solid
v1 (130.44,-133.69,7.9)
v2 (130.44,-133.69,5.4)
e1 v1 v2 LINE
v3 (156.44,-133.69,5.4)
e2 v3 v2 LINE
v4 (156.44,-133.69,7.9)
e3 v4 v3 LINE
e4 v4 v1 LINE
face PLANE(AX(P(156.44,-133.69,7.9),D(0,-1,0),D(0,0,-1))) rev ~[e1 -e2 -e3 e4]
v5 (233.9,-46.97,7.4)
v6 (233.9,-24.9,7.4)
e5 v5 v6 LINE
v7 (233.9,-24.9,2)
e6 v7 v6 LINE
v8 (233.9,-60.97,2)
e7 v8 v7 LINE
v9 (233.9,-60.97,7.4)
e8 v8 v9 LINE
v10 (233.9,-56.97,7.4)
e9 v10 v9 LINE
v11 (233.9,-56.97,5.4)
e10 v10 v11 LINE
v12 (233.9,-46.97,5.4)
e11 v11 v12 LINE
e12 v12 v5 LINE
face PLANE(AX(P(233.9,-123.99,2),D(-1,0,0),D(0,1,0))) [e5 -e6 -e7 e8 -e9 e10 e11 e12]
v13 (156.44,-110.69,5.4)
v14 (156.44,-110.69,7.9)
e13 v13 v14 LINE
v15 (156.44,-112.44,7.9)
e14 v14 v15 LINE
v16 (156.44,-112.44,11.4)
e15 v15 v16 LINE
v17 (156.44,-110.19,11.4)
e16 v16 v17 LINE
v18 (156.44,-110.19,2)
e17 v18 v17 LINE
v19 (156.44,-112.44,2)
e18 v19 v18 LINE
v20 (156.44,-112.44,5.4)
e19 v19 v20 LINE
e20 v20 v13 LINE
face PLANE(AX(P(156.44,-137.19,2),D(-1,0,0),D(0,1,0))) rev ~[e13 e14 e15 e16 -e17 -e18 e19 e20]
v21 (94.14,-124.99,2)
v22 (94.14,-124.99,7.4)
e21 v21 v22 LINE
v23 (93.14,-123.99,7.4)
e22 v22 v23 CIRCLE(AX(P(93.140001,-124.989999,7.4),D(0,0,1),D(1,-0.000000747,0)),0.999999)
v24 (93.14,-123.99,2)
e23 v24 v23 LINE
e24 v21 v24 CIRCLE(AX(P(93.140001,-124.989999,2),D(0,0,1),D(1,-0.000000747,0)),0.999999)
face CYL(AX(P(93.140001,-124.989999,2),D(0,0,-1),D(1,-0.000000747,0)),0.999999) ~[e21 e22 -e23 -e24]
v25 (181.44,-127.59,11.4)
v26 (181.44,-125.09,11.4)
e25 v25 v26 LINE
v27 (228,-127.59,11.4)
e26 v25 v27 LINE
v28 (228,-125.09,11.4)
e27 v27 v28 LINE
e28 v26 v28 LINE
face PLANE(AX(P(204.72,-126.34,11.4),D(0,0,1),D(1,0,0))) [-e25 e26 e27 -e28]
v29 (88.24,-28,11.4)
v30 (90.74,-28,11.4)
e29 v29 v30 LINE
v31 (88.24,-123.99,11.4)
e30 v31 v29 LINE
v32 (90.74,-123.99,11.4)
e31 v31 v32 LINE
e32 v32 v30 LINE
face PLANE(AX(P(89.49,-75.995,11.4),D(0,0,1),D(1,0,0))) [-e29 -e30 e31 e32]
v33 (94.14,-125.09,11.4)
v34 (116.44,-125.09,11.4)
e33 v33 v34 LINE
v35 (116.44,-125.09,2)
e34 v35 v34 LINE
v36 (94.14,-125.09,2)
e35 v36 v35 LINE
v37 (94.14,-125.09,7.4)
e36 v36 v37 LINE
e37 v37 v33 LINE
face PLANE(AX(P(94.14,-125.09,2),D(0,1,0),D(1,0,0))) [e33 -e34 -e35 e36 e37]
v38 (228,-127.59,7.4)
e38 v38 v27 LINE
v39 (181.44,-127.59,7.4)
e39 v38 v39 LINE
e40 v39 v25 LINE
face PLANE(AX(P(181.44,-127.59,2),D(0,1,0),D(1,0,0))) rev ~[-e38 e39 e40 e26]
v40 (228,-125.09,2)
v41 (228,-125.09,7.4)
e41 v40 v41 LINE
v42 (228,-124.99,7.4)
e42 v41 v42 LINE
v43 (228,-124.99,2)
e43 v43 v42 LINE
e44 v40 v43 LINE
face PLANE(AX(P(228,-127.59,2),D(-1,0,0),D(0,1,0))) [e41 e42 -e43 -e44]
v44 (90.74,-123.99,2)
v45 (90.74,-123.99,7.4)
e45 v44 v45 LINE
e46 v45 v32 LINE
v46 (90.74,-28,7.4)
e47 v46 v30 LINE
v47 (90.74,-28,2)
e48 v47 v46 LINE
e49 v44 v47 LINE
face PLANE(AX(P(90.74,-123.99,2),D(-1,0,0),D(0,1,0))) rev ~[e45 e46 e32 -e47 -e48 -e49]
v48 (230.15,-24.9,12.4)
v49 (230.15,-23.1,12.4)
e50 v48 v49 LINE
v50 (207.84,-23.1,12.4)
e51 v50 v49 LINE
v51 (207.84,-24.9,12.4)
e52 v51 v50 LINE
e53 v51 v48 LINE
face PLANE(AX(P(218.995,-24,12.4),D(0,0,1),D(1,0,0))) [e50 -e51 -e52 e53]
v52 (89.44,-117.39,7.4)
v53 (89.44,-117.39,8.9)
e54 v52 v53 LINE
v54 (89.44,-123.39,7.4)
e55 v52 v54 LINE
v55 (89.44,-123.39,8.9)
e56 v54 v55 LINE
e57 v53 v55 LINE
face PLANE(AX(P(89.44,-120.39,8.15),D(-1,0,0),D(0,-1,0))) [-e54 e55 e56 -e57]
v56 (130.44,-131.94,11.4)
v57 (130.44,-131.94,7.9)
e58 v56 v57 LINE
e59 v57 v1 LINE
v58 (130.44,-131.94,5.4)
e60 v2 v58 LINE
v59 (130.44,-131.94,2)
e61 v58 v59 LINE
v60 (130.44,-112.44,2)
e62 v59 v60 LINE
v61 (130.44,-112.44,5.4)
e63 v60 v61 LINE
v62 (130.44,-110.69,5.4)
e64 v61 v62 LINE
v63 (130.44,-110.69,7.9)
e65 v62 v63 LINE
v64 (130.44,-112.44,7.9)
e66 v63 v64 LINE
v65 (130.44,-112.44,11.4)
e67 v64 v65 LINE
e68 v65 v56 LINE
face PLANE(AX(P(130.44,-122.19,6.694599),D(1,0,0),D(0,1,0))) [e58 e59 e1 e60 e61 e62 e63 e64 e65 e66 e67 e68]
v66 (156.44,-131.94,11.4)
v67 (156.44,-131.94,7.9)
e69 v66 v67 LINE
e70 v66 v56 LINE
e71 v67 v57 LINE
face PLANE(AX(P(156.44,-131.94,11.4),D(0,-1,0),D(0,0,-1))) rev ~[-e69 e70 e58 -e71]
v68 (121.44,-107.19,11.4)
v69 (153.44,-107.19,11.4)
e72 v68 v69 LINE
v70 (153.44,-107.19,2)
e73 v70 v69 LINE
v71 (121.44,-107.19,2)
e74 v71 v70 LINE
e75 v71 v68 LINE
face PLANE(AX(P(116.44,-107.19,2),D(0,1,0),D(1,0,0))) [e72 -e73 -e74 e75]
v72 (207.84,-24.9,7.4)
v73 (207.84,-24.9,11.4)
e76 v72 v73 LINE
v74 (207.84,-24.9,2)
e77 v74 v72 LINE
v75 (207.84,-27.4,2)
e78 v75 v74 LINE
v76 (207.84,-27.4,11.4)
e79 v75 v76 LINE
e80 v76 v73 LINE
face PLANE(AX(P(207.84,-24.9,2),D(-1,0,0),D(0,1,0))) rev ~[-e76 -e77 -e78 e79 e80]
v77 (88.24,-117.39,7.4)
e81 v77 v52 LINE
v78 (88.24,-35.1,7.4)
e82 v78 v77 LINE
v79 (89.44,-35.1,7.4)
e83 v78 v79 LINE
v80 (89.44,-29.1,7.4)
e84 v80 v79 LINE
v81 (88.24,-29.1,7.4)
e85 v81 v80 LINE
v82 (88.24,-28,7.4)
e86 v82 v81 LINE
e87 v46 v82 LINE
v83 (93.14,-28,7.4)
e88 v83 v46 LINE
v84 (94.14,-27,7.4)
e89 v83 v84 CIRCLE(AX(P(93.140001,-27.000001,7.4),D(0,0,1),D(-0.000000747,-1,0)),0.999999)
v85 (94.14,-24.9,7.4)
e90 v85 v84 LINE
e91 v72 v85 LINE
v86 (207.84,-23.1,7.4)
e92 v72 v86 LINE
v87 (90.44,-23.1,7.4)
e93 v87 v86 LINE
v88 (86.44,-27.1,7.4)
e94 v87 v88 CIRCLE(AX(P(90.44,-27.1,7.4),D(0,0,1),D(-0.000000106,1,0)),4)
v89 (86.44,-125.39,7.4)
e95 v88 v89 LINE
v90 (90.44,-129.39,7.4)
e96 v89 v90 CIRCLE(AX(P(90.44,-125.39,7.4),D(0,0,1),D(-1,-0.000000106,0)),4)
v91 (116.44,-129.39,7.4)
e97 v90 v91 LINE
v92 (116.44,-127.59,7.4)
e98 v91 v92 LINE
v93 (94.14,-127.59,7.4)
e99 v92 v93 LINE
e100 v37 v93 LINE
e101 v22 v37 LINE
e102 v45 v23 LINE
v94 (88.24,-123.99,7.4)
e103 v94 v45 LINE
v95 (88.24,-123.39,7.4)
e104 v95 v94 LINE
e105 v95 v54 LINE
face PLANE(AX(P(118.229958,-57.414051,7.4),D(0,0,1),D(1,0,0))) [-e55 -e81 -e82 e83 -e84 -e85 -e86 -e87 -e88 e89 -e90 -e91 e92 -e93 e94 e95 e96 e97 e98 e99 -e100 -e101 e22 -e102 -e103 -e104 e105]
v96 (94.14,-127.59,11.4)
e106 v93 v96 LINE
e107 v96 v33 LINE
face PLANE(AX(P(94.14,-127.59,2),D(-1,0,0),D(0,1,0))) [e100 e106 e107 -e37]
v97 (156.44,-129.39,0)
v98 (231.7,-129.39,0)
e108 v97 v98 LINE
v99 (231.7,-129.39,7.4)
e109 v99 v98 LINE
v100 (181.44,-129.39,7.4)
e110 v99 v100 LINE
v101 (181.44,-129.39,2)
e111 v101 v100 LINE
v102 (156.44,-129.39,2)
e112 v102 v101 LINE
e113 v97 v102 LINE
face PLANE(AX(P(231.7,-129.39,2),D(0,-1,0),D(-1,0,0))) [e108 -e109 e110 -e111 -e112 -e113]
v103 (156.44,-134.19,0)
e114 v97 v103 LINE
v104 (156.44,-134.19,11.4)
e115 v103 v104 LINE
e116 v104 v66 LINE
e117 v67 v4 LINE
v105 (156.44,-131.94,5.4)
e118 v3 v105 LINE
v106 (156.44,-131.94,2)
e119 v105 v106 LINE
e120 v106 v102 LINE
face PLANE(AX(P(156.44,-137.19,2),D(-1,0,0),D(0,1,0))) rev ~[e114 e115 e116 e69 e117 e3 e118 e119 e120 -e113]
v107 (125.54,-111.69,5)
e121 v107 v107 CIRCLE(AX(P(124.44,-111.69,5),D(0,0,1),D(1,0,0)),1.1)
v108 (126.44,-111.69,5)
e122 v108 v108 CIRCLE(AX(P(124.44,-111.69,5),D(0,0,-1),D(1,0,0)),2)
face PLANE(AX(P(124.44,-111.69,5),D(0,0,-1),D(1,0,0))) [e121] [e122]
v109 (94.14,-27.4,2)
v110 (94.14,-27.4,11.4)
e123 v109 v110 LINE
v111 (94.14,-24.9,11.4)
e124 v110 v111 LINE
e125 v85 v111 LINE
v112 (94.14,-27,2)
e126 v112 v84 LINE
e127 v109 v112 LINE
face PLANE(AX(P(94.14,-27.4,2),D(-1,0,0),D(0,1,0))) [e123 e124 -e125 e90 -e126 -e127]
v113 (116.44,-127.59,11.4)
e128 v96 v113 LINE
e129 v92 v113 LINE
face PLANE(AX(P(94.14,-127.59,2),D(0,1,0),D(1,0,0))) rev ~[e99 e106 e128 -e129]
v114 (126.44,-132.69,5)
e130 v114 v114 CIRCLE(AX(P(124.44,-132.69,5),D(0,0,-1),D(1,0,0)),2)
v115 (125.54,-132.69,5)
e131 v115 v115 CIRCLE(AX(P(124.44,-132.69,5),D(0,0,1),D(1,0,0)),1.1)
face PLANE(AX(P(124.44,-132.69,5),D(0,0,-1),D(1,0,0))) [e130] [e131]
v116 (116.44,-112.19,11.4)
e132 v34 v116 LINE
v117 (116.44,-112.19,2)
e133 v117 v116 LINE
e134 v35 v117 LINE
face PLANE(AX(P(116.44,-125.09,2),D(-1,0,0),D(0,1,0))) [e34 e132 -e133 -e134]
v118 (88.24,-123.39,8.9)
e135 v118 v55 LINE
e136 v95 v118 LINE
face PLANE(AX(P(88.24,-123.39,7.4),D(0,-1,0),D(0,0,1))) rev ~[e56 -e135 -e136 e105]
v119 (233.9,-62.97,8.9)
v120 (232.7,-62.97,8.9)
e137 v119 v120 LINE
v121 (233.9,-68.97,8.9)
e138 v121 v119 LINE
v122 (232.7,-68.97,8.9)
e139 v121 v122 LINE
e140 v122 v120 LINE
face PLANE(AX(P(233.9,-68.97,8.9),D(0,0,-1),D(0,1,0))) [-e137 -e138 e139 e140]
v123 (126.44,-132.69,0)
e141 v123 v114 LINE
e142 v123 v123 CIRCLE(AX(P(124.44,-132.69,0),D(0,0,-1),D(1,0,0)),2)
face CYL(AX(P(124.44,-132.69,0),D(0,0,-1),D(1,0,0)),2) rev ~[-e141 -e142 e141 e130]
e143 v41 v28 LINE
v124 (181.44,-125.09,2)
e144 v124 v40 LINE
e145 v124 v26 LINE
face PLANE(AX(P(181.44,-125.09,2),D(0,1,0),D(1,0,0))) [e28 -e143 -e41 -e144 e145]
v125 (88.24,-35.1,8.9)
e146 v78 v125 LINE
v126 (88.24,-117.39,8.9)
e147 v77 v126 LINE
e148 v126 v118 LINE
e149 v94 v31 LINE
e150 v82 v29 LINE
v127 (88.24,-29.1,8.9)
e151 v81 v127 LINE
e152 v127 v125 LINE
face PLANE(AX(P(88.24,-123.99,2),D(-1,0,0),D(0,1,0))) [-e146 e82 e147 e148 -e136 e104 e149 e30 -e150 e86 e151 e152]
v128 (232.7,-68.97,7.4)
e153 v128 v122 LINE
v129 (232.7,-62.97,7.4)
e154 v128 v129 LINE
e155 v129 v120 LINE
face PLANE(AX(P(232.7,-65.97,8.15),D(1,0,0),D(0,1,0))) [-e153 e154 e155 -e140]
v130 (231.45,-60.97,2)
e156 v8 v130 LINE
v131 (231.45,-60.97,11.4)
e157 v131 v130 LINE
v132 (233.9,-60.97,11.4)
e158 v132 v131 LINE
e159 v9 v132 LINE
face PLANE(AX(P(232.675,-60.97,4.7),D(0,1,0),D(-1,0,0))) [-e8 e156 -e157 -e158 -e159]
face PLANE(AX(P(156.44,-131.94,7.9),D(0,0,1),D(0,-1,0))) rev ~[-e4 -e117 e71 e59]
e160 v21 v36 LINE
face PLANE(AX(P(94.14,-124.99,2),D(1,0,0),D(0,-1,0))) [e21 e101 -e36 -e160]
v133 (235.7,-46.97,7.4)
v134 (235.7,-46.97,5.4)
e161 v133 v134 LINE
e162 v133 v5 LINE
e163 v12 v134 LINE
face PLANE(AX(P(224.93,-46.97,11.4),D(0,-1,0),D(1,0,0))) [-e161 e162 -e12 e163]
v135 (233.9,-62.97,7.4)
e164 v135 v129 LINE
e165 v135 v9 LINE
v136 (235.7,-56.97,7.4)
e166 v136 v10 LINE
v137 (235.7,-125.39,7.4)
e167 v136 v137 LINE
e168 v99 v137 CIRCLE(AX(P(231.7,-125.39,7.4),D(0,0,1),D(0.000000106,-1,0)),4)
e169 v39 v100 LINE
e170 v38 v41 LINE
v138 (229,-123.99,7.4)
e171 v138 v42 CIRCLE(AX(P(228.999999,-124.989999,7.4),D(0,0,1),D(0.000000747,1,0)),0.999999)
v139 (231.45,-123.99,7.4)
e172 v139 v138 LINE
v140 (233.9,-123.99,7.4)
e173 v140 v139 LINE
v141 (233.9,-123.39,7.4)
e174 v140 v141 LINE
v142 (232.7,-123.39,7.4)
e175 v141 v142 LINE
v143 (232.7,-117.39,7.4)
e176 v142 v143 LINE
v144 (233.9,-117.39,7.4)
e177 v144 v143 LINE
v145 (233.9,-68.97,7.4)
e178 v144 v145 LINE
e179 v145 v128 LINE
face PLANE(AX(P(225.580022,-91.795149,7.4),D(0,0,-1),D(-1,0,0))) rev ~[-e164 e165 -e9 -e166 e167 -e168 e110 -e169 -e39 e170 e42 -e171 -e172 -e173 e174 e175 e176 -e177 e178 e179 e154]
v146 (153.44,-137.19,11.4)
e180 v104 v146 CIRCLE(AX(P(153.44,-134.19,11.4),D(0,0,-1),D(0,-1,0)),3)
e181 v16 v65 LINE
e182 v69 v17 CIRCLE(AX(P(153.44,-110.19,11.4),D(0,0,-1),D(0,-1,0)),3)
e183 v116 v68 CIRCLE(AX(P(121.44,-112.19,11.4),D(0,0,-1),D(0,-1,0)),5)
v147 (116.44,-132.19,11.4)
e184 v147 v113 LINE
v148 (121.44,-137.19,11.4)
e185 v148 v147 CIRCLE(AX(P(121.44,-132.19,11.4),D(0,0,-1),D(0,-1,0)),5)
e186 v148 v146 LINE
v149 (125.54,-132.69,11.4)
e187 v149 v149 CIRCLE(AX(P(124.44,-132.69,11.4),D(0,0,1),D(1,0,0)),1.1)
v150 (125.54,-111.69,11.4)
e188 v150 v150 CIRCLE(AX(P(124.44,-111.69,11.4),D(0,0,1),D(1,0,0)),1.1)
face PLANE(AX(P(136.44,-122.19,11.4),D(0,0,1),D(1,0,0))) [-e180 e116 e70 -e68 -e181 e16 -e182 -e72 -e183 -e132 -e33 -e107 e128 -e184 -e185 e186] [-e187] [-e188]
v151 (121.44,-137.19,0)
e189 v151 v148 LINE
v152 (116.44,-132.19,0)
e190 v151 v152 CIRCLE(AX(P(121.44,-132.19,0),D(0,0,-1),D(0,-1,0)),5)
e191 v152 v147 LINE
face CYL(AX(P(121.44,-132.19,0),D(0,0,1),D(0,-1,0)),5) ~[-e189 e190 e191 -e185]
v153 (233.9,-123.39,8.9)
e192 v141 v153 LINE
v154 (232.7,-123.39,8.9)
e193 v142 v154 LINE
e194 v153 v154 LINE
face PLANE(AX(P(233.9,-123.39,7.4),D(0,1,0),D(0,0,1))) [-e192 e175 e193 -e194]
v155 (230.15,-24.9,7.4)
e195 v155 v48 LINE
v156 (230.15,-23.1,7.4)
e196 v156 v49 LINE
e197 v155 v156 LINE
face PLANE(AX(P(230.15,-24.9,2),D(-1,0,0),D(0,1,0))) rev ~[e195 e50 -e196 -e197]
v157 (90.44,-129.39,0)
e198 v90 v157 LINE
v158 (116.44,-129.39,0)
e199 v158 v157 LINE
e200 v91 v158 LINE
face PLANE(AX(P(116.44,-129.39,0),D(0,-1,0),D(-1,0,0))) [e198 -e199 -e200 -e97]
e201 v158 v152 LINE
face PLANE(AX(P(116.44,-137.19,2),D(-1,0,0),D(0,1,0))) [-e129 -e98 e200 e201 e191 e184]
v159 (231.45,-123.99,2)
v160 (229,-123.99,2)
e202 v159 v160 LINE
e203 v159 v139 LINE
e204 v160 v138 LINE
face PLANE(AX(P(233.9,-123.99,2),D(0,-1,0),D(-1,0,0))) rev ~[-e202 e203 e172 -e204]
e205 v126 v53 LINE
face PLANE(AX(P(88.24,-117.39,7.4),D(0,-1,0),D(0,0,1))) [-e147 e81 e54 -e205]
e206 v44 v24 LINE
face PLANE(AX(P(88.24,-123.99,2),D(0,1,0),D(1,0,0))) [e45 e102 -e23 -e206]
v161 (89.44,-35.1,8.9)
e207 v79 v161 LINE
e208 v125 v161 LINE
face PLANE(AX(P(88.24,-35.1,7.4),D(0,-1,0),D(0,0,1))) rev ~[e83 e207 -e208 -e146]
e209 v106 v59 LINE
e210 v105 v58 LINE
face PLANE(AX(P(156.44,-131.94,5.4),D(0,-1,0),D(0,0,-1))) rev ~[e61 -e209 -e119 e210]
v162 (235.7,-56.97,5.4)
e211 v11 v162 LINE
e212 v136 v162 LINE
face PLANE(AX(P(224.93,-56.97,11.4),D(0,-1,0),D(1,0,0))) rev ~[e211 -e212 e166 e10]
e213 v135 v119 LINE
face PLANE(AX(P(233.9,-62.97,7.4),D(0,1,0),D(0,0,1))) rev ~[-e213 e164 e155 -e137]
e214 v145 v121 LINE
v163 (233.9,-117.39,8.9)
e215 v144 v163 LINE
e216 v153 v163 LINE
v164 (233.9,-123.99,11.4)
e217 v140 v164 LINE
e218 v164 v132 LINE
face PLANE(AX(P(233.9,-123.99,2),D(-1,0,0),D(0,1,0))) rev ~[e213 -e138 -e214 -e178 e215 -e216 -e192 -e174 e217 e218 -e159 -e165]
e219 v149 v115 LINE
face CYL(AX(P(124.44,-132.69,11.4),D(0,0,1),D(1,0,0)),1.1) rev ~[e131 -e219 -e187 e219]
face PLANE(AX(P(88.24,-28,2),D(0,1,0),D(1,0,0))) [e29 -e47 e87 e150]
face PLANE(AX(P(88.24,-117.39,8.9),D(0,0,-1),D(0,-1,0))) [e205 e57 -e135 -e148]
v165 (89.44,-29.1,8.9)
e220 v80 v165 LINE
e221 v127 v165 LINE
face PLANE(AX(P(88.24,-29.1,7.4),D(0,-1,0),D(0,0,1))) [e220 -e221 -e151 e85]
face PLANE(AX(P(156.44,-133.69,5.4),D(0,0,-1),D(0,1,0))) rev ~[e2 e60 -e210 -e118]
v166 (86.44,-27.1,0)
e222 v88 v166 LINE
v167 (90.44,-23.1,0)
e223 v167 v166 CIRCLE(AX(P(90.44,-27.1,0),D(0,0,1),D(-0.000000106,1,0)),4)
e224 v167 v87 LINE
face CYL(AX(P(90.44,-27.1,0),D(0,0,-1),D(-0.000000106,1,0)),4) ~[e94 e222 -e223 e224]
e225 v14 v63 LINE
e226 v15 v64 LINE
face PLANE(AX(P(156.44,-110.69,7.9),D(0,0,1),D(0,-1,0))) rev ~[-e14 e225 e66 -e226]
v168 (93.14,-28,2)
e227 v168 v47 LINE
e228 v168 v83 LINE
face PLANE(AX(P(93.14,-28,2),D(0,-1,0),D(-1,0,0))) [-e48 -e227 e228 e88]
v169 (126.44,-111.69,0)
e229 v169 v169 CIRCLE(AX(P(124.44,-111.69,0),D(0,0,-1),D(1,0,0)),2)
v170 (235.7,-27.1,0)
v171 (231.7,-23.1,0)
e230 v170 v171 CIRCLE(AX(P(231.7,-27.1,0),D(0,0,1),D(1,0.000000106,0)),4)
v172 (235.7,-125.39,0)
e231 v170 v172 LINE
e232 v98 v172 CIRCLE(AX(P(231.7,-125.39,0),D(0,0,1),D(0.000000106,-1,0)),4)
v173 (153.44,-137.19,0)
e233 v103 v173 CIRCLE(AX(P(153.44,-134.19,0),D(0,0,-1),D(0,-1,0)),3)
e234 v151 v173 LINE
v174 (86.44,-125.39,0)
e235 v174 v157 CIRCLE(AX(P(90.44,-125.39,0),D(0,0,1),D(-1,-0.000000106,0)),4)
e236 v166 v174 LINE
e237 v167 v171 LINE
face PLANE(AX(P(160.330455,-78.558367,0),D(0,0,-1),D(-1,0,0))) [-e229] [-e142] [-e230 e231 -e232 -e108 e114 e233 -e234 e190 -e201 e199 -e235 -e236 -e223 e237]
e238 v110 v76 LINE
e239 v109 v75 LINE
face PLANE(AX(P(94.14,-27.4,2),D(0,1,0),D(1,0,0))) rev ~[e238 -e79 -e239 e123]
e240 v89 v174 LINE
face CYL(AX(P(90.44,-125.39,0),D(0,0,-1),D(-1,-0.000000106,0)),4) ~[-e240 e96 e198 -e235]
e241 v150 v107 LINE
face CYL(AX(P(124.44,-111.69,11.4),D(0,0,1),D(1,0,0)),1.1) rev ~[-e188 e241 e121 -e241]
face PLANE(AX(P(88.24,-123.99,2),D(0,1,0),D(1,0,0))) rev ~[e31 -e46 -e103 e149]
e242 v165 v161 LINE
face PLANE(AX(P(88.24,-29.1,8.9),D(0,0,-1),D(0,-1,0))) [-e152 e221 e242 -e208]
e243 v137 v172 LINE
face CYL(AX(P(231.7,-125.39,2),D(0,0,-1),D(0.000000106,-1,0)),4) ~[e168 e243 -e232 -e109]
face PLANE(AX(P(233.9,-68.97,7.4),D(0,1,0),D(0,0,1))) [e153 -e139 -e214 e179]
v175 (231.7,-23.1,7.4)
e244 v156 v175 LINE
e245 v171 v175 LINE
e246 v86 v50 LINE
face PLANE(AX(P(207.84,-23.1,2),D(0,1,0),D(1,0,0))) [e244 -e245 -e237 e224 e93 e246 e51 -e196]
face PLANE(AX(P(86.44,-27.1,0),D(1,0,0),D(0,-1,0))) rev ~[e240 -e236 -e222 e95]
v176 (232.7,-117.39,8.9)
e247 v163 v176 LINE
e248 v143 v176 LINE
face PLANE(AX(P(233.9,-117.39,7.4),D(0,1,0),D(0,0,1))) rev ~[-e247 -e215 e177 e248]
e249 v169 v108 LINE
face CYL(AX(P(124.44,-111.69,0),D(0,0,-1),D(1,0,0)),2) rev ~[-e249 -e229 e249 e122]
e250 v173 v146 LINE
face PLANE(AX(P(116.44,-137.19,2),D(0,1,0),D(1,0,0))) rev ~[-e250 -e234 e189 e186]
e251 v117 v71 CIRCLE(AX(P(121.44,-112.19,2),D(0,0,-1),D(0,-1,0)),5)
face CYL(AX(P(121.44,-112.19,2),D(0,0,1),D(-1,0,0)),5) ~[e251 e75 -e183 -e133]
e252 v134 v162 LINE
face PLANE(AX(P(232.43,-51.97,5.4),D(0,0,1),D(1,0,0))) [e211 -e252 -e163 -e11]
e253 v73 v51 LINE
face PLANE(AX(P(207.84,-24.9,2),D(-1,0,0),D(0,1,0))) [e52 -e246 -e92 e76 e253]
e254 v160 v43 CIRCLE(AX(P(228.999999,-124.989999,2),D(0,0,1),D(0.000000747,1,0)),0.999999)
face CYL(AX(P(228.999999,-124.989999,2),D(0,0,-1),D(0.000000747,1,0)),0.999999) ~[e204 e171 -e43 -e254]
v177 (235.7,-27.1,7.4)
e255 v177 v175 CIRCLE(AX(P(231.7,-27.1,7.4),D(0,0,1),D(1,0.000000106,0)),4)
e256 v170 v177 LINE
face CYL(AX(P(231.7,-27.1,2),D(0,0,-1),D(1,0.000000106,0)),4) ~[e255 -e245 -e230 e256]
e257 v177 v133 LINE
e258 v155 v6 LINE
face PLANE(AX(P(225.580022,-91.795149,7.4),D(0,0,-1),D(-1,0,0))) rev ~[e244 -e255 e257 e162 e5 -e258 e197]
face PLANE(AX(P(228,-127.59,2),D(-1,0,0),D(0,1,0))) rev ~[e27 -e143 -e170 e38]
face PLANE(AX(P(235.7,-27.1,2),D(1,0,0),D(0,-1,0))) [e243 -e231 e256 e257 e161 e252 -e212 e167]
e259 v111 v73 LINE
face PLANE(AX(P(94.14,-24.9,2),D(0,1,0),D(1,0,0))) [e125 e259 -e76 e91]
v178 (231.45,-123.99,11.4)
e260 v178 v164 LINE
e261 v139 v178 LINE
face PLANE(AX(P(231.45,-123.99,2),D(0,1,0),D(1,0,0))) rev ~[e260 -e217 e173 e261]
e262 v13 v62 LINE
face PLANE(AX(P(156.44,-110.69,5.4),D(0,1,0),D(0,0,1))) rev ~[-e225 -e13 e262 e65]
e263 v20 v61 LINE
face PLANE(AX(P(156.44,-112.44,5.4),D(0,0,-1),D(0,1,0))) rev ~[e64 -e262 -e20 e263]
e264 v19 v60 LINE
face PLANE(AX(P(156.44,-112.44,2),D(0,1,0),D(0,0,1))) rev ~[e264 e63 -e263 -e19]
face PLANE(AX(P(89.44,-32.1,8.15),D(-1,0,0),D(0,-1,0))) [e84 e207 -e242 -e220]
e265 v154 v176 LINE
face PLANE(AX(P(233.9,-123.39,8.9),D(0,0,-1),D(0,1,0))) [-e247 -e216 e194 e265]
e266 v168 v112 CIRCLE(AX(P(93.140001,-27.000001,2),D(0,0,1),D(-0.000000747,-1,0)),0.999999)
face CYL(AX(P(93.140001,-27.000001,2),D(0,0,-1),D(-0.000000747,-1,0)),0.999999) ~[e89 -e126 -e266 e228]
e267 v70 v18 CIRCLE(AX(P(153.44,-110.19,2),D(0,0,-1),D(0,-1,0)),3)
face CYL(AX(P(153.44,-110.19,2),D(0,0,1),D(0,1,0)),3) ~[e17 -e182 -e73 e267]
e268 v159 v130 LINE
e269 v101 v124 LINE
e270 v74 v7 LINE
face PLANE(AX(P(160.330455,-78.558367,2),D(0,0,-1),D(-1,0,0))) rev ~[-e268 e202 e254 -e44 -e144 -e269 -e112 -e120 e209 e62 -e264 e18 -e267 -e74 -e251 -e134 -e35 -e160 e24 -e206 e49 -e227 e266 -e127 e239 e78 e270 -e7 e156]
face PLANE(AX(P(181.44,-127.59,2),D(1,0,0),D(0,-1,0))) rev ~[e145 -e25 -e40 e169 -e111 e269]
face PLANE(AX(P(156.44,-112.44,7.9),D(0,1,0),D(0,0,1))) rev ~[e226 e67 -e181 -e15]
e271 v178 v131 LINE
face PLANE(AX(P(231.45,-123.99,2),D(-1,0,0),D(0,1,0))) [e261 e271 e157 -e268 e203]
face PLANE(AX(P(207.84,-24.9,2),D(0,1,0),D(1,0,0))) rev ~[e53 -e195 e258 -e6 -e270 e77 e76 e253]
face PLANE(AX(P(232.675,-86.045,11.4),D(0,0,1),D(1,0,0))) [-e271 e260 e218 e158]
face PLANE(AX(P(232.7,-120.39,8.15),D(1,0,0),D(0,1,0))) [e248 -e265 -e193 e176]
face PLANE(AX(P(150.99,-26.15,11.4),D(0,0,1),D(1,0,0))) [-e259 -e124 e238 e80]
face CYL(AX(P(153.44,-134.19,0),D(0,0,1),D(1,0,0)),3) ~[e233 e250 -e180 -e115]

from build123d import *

# Parameters (mm, degrees)
PAD010_DEPTH    = 2
PAD011_DEPTH    = 5.4
SKETCH023_W     = 40
SKETCH023_H     = 30
SKETCH023_W_2   = 2.5
SKETCH023_H_2   = 95.99
SKETCH023_W_3   = 113.7
SKETCH023_H_3   = 2.5
SKETCH023_W_4   = 22.3
SKETCH023_W_5   = 46.56
SKETCH023_W_6   = 2.45
SKETCH023_H_4   = 75.89
PAD012_DEPTH    = 9.4
POCKET_DEPTH    = 26
SKETCH025_W     = 15
SKETCH025_H     = 10
POCKET008_DEPTH = 6
SKETCH028_W     = 22.31
SKETCH028_H     = 1.8
PAD015_DEPTH    = 10.4
FILLET_R        = 5
FILLET001_R     = 3
SKETCH035_W     = 6
SKETCH035_H     = 1.5
POCKET011_DEPTH = 1.2
SKETCH036_W     = 6
SKETCH036_H     = 1.5
POCKET012_DEPTH = 1.2
SKETCH037_R     = 1.1
POCKET013_DEPTH = 12
SKETCH038_R     = 2
POCKET014_DEPTH = 5
SKETCH051_W     = 2.45
SKETCH051_H     = 4
POCKET023_DEPTH = 4
SKETCH055_W     = 2.45
SKETCH055_H     = 5.4
POCKET024_DEPTH = 12.87


with BuildPart() as part:
    # Sketch020 → Pad010 (new body)
    with BuildSketch(Plane.XY):
        with BuildLine():
            Line((235.7, -27.1), (235.7, -125.39))
            ThreePointArc((231.7, -129.39), (234.528427, -128.218427), (235.7, -125.39))
            Line((156.44, -129.39), (231.7, -129.39))
            Line((156.44, -129.39), (156.44, -137.19))
            Line((116.44, -137.19), (156.44, -137.19))
            Line((116.44, -129.39), (116.44, -137.19))
            Line((116.44, -129.39), (90.44, -129.39))
            ThreePointArc((86.44, -125.39), (87.611573, -128.218427), (90.44, -129.39))
            Line((86.44, -27.1), (86.44, -125.39))
            ThreePointArc((90.44, -23.1), (87.611573, -24.271573), (86.44, -27.1))
            Line((90.44, -23.1), (231.7, -23.1))
            ThreePointArc((235.7, -27.1), (234.528427, -24.271573), (231.7, -23.1))
        make_face()
    extrude(amount=PAD010_DEPTH)

    # Sketch021 (on Face14 of Pad010) → Pad011 (join)
    with BuildSketch(Plane.XY.offset(2)):
        with BuildLine():
            Line((235.7, -27.1), (235.7, -125.39))
            ThreePointArc((231.7, -129.39), (234.528427, -128.218427), (235.7, -125.39))
            Line((231.7, -129.39), (181.44, -129.39))
            Line((181.44, -127.59), (181.44, -129.39))
            Line((228, -127.59), (181.44, -127.59))
            Line((228, -127.59), (228, -124.99))
            ThreePointArc((229, -123.99), (228.292893, -124.282893), (228, -124.99))
            Line((233.9, -123.99), (229, -123.99))
            Line((233.9, -123.99), (233.9, -24.9))
            Line((230.15, -24.9), (233.9, -24.9))
            Line((230.15, -24.9), (230.15, -23.1))
            Line((230.15, -23.1), (231.7, -23.1))
            ThreePointArc((235.7, -27.1), (234.528427, -24.271573), (231.7, -23.1))
        make_face()
        with BuildLine():
            Line((86.44, -27.1), (86.44, -125.39))
            ThreePointArc((86.44, -125.39), (87.611573, -128.218427), (90.44, -129.39))
            Line((90.44, -129.39), (116.44, -129.39))
            Line((116.44, -129.39), (116.44, -127.59))
            Line((116.44, -127.59), (94.14, -127.59))
            Line((94.14, -124.99), (94.14, -127.59))
            ThreePointArc((94.14, -124.99), (93.847107, -124.282893), (93.14, -123.99))
            Line((88.24, -123.99), (93.14, -123.99))
            Line((88.24, -28), (88.24, -123.99))
            Line((93.14, -28), (88.24, -28))
            ThreePointArc((93.14, -28), (93.847107, -27.707107), (94.14, -27))
            Line((94.14, -24.9), (94.14, -27))
            Line((207.84, -24.9), (94.14, -24.9))
            Line((207.84, -24.9), (207.84, -23.1))
            Line((90.44, -23.1), (207.84, -23.1))
            ThreePointArc((90.44, -23.1), (87.611573, -24.271573), (86.44, -27.1))
        make_face()
    extrude(amount=PAD011_DEPTH)

    # Sketch023 (on Face3 of Pad011) → Pad012 (join)
    with BuildSketch(Plane.XY.offset(2)):
        with Locations((136.44, -122.19)):
            Rectangle(SKETCH023_W, SKETCH023_H)
        with Locations((89.49, -75.995)):
            Rectangle(SKETCH023_W_2, SKETCH023_H_2)
        with Locations((150.99, -26.15)):
            Rectangle(SKETCH023_W_3, SKETCH023_H_3)
        with Locations((105.29, -126.34)):
            Rectangle(SKETCH023_W_4, SKETCH023_H_3)
        with Locations((204.72, -126.34)):
            Rectangle(SKETCH023_W_5, SKETCH023_H_3)
        with Locations((232.675, -86.045)):
            Rectangle(SKETCH023_W_6, SKETCH023_H_4)
    extrude(amount=PAD012_DEPTH)

    # Sketch024 (on Face48 of Pad012) → Pocket (cut)
    with BuildSketch(Plane.YZ.offset(156.44)):
        Polygon((-131.94, 5.4), (-131.94, 2), (-112.44, 2), (-112.44, 5.4), (-110.69, 5.4), (-110.69, 7.9), (-112.44, 7.9), (-112.44, 11.4), (-131.94, 11.4), (-131.94, 7.9), (-133.69, 7.9), (-133.69, 5.4), align=None)
    extrude(amount=-POCKET_DEPTH, mode=Mode.SUBTRACT)

    # Sketch025 (on Face61 of Pocket) → Pocket008 (cut)
    with BuildSketch(Plane.XY.offset(11.4)):
        with Locations((232.43, -51.97)):
            Rectangle(SKETCH025_W, SKETCH025_H)
    extrude(amount=-POCKET008_DEPTH, mode=Mode.SUBTRACT)

    # Sketch028 (on Face16 of Pocket008) → Pad015 (join)
    with BuildSketch(Plane.XY.offset(2)):
        with Locations((218.995, -24)):
            Rectangle(SKETCH028_W, SKETCH028_H)
    extrude(amount=PAD015_DEPTH)

    # Fillet
    fillet_edges = [part.edges().sort_by_distance(p)[0] for p in [
        (116.44, -137.19, 5.7),
        (116.44, -107.19, 6.7),
    ]]
    fillet(fillet_edges, radius=FILLET_R)

    # Fillet001
    fillet001_edges = [part.edges().sort_by_distance(p)[0] for p in [
        (156.44, -137.19, 5.7),
        (156.44, -107.19, 6.7),
    ]]
    fillet(fillet001_edges, radius=FILLET001_R)

    # Sketch035 (on Face12 of Fillet001) → Pocket011 (cut)
    with BuildSketch(Plane(origin=(88.24, 0, 0), x_dir=(0, -1, 0), z_dir=(-1, 0, 0))):
        with Locations((32.1, 8.15)):
            Rectangle(SKETCH035_W, SKETCH035_H)
        with Locations((120.39, 8.15)):
            Rectangle(SKETCH035_W, SKETCH035_H)
    extrude(amount=-POCKET011_DEPTH, mode=Mode.SUBTRACT)

    # Sketch036 (on Face68 of Pocket011) → Pocket012 (cut)
    with BuildSketch(Plane.YZ.offset(233.9)):
        with Locations((-120.39, 8.15)):
            Rectangle(SKETCH036_W, SKETCH036_H)
        with Locations((-65.97, 8.15)):
            Rectangle(SKETCH036_W, SKETCH036_H)
    extrude(amount=-POCKET012_DEPTH, mode=Mode.SUBTRACT)

    # Sketch037 (on Face16 of Pocket012) → Pocket013 (cut)
    with BuildSketch(Plane.XY.offset(11.4)):
        with Locations((124.44, -111.69)):
            Circle(SKETCH037_R)
        with Locations((124.44, -132.69)):
            Circle(SKETCH037_R)
    extrude(amount=-POCKET013_DEPTH, mode=Mode.SUBTRACT)

    # Sketch038 (on Face1 of Pocket013) → Pocket014 (cut)
    with BuildSketch(Plane(origin=(0, 0, 0), x_dir=(1, 0, 0), z_dir=(0, 0, -1))):
        with Locations((124.44, 132.69)):
            Circle(SKETCH038_R)
        with Locations((124.44, 111.69)):
            Circle(SKETCH038_R)
    extrude(amount=-POCKET014_DEPTH, mode=Mode.SUBTRACT)

    # Sketch051 (on Face29 of Pocket014) → Pocket023 (cut)
    with BuildSketch(Plane(origin=(0, -56.97, 0), x_dir=(-1, 0, 0), z_dir=(0, 1, 0))):
        with Locations((-232.675, 9.4)):
            Rectangle(SKETCH051_W, SKETCH051_H)
    extrude(amount=-POCKET023_DEPTH, mode=Mode.SUBTRACT)

    # Sketch055 (on Face72 of Pocket023) → Pocket024 (cut)
    with BuildSketch(Plane(origin=(0, -48.1, 0), x_dir=(-1, 0, 0), z_dir=(0, 1, 0))):
        with Locations((-232.675, 4.7)):
            Rectangle(SKETCH055_W, SKETCH055_H)
    extrude(amount=-POCKET024_DEPTH, mode=Mode.SUBTRACT)


solid = part.part
